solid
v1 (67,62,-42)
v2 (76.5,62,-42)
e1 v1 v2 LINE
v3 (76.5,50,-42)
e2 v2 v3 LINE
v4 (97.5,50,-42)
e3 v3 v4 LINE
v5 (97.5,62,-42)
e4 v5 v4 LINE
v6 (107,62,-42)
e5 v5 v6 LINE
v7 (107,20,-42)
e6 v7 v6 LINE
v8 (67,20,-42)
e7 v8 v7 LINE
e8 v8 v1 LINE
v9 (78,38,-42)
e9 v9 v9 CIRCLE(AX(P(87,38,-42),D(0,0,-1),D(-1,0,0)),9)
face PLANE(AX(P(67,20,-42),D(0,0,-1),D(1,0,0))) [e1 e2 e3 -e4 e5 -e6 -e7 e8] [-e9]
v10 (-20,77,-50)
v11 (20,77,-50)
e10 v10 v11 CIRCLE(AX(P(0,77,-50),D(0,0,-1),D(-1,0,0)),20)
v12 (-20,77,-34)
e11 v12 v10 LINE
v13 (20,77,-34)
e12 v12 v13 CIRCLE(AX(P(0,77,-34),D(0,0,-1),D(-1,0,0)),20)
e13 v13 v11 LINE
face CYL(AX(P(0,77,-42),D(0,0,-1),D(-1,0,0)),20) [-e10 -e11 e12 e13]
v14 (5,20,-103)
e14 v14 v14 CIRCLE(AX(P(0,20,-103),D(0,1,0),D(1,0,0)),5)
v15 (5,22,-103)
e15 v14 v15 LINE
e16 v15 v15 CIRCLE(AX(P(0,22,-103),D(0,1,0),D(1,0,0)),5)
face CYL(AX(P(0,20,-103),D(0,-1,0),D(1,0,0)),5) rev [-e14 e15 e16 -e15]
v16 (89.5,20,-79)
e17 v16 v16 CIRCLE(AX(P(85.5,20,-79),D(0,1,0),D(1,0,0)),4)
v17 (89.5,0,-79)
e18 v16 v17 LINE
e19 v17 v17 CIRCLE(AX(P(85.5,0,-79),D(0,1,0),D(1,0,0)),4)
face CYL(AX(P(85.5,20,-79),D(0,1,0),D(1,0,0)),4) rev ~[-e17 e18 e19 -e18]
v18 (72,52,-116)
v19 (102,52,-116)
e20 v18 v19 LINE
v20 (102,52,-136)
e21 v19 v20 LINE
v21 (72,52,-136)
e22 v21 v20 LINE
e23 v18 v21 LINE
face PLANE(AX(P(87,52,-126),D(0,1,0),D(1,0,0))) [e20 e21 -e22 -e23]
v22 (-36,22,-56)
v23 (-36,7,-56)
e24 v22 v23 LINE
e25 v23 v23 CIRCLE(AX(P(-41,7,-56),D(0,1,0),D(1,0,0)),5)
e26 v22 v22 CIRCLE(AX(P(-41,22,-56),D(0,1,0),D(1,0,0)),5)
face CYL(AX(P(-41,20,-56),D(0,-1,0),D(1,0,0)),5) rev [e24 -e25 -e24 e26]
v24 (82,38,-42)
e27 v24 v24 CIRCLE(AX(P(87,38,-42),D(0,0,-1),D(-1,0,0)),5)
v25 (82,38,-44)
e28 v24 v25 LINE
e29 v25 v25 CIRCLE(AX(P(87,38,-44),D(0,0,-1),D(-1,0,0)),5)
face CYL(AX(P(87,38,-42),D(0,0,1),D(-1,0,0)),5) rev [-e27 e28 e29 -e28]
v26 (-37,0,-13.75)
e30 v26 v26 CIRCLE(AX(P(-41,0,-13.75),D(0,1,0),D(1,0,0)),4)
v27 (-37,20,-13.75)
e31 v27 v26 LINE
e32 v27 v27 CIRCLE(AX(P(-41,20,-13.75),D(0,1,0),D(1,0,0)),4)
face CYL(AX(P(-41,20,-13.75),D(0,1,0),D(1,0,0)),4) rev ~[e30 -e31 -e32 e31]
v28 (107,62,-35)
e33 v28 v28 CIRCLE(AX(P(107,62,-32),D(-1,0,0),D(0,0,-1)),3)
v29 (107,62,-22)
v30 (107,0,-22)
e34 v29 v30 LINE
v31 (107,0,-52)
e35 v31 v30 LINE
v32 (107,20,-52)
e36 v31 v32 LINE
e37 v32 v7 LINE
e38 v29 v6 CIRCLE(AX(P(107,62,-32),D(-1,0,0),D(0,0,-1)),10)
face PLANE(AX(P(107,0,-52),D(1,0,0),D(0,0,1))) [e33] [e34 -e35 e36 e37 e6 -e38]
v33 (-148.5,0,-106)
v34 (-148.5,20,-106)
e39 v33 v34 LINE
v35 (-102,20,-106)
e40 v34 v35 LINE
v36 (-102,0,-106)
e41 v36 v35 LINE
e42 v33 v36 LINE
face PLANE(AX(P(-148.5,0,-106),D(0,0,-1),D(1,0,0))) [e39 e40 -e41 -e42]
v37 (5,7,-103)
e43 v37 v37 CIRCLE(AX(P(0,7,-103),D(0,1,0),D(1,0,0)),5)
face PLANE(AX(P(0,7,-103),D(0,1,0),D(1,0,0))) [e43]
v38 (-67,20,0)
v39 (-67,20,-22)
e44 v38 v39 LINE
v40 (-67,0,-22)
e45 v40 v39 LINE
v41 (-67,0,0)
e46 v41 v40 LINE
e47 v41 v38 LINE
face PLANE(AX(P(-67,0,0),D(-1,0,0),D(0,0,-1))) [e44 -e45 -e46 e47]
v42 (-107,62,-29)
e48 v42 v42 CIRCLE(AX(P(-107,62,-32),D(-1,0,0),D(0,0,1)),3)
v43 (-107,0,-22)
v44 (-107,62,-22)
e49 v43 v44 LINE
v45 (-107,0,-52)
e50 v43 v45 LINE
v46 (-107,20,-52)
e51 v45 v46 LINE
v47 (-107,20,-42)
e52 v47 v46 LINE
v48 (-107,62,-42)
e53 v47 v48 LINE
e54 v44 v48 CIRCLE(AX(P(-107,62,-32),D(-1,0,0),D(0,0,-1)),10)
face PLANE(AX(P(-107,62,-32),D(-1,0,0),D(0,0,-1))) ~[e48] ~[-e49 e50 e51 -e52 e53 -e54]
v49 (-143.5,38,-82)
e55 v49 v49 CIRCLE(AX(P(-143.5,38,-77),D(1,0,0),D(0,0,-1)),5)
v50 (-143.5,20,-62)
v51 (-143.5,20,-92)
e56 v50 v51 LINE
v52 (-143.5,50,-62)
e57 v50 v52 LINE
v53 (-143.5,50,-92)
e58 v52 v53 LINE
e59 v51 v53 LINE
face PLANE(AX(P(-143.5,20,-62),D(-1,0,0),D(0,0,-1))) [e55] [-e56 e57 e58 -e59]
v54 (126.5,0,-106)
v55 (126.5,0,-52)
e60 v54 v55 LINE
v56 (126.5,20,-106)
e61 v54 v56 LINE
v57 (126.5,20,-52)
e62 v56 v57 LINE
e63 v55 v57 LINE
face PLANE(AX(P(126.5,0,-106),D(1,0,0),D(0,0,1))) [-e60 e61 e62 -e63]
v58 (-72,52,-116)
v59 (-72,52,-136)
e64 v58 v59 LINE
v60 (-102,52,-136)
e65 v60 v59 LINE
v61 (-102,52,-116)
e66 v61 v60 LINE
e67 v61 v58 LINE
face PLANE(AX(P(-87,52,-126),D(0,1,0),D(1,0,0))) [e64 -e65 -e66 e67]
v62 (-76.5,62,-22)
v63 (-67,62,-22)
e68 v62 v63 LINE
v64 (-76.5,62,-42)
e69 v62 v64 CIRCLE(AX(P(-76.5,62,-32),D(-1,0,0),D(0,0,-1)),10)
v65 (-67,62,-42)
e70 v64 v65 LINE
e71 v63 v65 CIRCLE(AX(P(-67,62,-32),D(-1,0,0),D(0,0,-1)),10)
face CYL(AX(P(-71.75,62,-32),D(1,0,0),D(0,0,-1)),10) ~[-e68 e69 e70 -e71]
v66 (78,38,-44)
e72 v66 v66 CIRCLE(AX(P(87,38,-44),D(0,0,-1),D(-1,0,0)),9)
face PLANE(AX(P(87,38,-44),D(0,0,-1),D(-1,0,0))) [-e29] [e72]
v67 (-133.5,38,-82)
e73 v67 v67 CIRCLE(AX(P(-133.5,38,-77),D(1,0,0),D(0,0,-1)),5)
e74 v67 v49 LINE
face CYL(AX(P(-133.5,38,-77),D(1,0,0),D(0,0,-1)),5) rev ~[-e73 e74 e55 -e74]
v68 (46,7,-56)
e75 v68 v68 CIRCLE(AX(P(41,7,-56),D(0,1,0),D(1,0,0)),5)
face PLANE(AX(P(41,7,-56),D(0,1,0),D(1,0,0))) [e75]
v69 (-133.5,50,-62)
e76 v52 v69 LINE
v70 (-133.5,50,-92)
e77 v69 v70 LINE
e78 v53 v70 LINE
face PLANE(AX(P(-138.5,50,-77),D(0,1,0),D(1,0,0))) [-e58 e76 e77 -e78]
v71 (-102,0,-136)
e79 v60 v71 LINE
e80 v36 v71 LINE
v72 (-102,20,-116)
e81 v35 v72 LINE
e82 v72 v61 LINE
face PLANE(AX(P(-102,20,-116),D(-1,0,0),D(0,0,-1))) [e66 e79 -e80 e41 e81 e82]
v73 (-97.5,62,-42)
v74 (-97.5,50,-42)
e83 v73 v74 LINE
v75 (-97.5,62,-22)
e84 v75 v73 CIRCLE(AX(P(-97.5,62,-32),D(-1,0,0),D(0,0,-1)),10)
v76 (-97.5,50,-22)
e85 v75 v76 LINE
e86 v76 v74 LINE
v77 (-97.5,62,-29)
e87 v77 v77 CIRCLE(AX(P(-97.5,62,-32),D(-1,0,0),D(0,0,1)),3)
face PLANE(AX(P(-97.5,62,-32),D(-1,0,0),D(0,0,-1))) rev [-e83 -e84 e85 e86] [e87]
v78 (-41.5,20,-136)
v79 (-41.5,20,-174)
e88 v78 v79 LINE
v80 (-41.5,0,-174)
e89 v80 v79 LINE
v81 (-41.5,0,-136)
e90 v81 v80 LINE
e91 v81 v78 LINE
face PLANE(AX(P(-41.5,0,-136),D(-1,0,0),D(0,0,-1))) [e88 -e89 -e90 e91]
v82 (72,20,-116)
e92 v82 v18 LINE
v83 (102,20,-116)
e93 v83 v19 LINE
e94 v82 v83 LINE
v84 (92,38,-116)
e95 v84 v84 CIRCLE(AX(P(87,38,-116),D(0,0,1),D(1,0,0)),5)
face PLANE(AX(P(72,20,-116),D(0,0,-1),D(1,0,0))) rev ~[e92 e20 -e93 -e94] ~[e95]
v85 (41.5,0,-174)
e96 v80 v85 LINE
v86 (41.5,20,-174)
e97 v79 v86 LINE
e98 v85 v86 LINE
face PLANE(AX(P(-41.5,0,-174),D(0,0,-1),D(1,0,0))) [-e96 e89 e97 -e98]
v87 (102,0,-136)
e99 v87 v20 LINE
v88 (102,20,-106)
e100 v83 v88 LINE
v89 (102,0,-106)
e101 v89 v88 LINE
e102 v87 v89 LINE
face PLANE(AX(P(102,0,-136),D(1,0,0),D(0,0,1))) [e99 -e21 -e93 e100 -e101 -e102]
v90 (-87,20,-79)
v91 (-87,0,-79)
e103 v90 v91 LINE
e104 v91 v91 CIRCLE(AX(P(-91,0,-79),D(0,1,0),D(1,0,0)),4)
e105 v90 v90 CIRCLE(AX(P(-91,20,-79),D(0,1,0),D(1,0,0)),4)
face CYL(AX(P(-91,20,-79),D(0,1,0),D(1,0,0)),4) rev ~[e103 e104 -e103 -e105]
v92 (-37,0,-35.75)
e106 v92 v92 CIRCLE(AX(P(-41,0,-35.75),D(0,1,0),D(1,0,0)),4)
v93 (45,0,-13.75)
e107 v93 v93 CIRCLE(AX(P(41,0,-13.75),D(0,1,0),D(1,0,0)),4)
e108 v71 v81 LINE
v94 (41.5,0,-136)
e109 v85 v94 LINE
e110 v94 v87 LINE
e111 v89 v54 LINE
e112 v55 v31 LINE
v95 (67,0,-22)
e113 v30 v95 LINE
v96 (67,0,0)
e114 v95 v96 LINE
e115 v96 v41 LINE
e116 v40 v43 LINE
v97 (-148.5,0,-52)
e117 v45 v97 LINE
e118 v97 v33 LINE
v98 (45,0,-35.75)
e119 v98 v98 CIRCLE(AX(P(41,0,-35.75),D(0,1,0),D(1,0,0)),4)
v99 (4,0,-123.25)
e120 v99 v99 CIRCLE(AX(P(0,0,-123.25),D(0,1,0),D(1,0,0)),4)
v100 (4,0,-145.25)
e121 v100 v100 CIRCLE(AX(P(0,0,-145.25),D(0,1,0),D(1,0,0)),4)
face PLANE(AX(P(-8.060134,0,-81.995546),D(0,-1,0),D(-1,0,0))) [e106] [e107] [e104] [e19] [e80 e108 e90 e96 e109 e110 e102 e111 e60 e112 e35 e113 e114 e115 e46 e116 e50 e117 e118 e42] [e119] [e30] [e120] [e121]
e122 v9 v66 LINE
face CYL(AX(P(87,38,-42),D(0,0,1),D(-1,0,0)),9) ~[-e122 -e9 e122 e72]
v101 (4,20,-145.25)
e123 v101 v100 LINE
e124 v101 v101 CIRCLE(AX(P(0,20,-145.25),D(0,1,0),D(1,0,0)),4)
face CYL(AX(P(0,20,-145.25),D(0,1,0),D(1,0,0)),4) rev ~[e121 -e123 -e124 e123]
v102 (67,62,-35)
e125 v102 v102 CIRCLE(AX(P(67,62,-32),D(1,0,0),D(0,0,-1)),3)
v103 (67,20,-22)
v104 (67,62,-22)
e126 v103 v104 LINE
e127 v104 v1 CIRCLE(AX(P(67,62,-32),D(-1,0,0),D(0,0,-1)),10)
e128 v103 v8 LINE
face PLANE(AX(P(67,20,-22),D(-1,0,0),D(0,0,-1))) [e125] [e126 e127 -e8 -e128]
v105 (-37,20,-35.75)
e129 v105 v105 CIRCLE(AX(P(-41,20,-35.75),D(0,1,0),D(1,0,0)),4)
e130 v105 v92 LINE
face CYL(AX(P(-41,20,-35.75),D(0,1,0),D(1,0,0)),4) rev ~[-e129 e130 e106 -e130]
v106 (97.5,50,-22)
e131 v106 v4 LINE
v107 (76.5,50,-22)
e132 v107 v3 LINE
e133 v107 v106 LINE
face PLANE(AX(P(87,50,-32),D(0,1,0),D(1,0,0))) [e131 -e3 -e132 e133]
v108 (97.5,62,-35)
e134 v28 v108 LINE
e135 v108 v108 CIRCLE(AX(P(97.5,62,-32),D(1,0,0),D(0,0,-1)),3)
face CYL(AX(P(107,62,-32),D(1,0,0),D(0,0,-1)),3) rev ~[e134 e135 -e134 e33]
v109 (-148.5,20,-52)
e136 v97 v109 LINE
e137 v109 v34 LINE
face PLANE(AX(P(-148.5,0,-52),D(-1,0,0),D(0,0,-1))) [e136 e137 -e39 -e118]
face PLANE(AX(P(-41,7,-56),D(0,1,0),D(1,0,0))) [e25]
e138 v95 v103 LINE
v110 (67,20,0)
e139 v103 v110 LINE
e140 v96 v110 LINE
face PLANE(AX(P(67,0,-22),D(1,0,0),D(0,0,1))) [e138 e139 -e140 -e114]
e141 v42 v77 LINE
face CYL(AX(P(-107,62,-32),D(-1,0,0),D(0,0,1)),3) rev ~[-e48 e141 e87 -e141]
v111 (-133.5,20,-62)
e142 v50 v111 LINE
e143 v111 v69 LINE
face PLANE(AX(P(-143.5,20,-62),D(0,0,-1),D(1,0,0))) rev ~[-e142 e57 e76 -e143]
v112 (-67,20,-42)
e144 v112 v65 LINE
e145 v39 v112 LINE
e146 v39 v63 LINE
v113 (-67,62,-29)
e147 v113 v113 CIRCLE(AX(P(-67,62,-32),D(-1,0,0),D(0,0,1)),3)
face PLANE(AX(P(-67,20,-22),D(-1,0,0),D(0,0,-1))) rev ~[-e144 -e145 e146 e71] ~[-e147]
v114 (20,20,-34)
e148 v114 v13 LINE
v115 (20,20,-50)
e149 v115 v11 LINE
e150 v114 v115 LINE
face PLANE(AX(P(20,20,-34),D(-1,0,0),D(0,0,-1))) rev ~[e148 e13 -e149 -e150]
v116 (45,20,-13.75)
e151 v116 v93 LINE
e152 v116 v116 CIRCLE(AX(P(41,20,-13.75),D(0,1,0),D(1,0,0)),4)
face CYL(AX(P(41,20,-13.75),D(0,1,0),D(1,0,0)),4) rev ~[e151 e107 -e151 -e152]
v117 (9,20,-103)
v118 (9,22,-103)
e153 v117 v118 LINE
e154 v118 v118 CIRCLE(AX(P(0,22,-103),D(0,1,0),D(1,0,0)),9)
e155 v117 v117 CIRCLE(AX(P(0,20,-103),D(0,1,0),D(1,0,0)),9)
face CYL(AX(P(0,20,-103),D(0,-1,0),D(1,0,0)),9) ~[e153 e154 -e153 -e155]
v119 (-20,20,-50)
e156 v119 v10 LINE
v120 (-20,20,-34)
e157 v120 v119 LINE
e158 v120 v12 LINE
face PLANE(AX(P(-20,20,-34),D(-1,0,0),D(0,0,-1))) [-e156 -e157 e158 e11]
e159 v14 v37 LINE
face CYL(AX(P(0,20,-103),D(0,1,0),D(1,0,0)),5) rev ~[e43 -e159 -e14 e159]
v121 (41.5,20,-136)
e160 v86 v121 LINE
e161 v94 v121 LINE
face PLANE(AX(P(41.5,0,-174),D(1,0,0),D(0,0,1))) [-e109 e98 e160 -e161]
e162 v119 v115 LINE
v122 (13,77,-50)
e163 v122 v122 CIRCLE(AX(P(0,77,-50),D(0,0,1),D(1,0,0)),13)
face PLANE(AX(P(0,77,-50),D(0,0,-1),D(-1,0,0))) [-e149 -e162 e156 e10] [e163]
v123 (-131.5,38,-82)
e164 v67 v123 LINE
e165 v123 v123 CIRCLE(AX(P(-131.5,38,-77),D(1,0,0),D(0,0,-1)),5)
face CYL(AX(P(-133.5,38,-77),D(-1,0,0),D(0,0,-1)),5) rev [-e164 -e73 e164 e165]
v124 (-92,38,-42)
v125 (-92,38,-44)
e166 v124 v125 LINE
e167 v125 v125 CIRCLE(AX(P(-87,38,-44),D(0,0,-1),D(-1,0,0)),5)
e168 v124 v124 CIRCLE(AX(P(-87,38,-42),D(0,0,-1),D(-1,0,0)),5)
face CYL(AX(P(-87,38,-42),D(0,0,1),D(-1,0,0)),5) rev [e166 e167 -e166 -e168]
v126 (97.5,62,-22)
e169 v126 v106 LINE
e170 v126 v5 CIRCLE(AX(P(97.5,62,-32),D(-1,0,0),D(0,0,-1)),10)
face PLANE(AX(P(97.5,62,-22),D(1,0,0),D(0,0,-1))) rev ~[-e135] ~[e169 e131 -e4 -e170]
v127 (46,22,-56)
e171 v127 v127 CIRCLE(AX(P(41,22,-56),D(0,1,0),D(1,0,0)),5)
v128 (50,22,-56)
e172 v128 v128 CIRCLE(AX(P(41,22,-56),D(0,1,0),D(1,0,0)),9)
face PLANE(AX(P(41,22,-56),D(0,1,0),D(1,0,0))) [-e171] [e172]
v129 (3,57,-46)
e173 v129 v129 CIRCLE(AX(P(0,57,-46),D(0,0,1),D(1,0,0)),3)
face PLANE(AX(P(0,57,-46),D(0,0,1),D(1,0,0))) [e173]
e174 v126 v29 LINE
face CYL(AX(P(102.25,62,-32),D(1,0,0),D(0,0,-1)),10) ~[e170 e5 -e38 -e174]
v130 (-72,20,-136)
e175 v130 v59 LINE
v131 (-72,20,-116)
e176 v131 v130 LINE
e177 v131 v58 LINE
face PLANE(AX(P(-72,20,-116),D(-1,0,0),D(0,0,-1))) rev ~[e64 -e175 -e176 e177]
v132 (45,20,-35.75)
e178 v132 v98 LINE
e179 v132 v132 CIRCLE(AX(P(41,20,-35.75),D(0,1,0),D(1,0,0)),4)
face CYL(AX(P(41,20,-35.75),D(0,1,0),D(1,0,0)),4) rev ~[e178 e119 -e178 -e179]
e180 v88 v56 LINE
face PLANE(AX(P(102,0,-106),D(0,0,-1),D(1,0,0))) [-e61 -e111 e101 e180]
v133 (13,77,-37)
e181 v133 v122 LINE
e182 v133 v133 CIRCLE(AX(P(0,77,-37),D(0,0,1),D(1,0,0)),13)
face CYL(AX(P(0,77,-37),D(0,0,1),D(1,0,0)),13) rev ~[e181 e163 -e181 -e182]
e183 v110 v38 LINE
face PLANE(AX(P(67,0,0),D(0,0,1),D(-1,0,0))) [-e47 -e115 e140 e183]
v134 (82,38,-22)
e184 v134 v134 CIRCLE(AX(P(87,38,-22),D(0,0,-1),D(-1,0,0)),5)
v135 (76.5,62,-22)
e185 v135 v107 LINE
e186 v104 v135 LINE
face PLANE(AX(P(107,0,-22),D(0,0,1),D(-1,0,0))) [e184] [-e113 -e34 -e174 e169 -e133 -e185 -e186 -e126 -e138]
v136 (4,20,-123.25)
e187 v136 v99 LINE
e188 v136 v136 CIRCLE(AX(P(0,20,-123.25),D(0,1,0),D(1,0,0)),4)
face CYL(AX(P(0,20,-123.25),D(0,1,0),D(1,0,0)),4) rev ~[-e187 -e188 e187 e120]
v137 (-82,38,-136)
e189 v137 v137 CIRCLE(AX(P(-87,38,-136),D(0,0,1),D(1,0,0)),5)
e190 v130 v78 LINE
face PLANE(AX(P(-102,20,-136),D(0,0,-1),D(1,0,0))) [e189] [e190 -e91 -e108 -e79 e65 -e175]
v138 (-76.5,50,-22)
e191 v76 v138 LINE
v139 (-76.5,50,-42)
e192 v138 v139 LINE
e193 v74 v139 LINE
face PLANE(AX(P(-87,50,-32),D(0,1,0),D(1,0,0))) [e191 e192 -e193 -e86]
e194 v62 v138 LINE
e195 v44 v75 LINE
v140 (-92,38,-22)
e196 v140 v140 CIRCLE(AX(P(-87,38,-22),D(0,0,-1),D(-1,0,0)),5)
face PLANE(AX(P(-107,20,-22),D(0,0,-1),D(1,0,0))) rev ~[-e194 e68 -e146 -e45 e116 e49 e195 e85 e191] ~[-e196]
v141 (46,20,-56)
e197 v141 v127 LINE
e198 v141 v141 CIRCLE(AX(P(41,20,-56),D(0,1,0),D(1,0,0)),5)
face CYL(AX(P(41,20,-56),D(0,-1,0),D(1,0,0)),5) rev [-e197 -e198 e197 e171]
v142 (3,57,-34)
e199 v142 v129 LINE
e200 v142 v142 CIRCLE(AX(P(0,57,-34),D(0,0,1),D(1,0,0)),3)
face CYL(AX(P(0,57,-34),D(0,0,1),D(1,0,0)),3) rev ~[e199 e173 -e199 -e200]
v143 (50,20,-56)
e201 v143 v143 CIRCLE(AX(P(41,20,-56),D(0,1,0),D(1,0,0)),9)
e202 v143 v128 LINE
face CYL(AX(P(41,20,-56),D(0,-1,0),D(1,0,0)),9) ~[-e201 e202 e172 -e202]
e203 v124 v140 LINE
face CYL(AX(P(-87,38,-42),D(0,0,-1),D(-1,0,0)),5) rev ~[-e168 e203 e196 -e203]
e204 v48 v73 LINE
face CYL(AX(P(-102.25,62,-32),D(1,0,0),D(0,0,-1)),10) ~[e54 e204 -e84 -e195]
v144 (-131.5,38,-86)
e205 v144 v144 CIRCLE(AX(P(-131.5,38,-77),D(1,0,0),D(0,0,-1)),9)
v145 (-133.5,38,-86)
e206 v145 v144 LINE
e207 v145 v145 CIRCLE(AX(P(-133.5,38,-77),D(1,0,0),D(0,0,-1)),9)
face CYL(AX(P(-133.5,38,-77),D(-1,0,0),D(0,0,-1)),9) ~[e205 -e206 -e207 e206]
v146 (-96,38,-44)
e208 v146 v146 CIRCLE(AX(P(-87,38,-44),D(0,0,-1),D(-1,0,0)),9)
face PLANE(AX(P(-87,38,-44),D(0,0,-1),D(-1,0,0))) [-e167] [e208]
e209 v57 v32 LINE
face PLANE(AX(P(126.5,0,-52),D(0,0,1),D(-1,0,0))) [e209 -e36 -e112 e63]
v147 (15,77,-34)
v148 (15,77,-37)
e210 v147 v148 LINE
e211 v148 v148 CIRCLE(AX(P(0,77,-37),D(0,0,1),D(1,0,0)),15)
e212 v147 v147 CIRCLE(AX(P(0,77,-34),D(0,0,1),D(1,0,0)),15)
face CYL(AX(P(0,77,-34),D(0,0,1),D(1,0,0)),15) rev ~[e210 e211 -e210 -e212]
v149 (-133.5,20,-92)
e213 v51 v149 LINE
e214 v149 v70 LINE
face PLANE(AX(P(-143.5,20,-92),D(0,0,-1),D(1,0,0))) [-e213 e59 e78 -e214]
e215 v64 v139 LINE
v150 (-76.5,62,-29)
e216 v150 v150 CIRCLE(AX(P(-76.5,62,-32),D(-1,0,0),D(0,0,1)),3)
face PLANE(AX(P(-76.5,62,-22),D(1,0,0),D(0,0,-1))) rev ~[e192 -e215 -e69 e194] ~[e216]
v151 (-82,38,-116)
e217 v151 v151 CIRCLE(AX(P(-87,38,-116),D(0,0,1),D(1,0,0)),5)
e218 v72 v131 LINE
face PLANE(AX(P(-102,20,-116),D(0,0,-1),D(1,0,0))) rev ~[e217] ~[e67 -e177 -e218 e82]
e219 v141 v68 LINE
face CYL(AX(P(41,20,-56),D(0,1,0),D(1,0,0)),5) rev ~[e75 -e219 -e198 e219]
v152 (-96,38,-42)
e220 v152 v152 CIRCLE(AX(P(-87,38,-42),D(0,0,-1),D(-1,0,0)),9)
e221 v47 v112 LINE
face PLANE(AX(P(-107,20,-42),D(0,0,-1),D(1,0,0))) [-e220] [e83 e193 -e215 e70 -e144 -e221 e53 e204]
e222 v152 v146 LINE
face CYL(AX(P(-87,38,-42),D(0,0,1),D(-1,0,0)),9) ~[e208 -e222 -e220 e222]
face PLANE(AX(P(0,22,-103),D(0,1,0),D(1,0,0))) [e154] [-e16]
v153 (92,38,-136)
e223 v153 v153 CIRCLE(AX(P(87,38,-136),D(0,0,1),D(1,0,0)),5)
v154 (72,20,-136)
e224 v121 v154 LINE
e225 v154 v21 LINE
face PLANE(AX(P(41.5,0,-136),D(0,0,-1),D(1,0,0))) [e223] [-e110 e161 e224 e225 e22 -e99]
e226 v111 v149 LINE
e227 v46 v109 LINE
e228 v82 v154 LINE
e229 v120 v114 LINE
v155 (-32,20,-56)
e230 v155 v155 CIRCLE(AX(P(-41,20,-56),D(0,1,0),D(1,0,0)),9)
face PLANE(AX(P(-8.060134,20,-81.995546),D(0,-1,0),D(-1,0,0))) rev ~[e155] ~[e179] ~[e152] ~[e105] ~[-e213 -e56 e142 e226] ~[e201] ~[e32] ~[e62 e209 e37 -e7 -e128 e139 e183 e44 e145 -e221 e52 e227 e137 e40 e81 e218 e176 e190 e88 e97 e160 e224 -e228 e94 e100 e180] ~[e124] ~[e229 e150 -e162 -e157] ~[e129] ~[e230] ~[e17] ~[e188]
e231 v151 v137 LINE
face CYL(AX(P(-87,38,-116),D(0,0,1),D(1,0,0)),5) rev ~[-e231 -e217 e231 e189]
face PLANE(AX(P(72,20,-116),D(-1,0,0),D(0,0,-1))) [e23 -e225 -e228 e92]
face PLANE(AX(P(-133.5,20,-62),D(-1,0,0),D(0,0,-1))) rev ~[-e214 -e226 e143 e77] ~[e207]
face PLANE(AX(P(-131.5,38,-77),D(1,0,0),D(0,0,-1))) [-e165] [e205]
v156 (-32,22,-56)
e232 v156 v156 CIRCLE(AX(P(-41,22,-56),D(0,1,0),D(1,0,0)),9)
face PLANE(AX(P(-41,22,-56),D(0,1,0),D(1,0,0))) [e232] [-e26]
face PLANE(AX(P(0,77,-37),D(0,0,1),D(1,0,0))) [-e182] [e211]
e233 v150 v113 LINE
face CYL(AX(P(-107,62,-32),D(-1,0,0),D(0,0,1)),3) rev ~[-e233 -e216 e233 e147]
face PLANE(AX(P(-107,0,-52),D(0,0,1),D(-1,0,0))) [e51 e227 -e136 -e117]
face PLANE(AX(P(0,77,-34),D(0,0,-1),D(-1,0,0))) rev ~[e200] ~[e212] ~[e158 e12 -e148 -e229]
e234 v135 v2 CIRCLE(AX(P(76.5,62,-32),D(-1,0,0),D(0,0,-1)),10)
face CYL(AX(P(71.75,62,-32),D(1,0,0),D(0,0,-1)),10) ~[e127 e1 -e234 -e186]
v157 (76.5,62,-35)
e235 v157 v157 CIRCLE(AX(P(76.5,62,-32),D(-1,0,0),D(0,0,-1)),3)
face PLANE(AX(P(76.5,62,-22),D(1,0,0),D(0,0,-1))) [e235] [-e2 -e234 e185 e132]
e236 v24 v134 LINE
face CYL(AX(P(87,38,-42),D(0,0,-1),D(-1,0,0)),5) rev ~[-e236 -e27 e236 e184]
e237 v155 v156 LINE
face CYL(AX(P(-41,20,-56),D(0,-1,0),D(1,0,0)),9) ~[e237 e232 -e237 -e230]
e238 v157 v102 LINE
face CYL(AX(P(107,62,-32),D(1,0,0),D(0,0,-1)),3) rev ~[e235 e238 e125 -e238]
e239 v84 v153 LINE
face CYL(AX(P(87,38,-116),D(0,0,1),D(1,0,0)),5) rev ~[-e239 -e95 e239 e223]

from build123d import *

# Parameters (mm, degrees)
EXTRUDE_1_DEPTH          = 20
SKETCH_3_W               = 10
SKETCH_3_H               = 30
EXTRUDE_2_DEPTH          = 30
SKETCH_5_W               = 40
SKETCH_5_H               = 20
EXTRUDE_3_DEPTH          = 42
SKETCH_2_R               = 5
CUT_EXTRUDE_1_DEPTH      = 13
CUT_EXTRUDE_2_REACH      = 17
SKETCH_4_R               = 5
CUT_EXTRUDE_3_REACH      = 44
SKETCH_6_R               = 5
SKETCH_7_R               = 9
SKETCH_7_R_2             = 5
EXTRUDE_4_DEPTH          = 2
SKETCH_8_R               = 9
SKETCH_8_R_2             = 5
EXTRUDE_5_DEPTH          = 2
SKETCH_9_R               = 9
SKETCH_9_R_2             = 5
EXTRUDE_6_DEPTH          = 2
SKETCH_10_R              = 4
CUT_EXTRUDE_4_DEPTH      = 21
SKETCH_11_W              = 40
SKETCH_11_H              = 16
EXTRUDE_7_DEPTH          = 57
SKETCH_12_W              = 20
SKETCH_12_H              = 16
REVOLVE_1_ANGLE          = 180
SKETCH_13_R              = 15
CUT_EXTRUDE_5_DEPTH      = 35
CUT_EXTRUDE_5_DEPTH_BACK = 3
CUT_EXTRUDE_6_REACH      = 139
SKETCH_14_R              = 13
SKETCH_15_R              = 3
CUT_EXTRUDE_7_DEPTH      = 12
SKETCH_16_W              = 9.5
SKETCH_16_H              = 10
SKETCH_17_W              = 21
SKETCH_17_H              = 20
CUT_EXTRUDE_8_DEPTH      = 12
SKETCH_18_R              = 3
CUT_EXTRUDE_9_DEPTH      = 40
SKETCH_19_R              = 3
CUT_EXTRUDE_10_DEPTH     = 40
SKETCH_20_W              = 30
SKETCH_20_H              = 20
EXTRUDE_8_DEPTH          = 32
CUT_EXTRUDE_11_REACH     = 60
SKETCH_21_R              = 5


with BuildPart() as part:
    # 草图1 → 凸台-拉伸1 (new body)
    with BuildSketch(Plane(origin=(0, 0, 0), x_dir=(1, 0, 0), z_dir=(0, 1, 0))):
        Polygon((-102, 136), (-41.5, 136), (-41.5, 174), (41.5, 174), (41.5, 136), (102, 136), (102, 106), (126.5, 106), (126.5, 52), (107, 52), (107, 22), (67, 22), (67, 0), (-67, 0), (-67, 22), (-107, 22), (-107, 52), (-148.5, 52), (-148.5, 106), (-102, 106), align=None)
    extrude(amount=EXTRUDE_1_DEPTH)

    # 草图3 → 凸台-拉伸2 (add)
    with BuildSketch(Plane(origin=(0, 20, 0), x_dir=(1, 0, 0), z_dir=(0, 1, 0))):
        with Locations((-138.5, 77)):
            Rectangle(SKETCH_3_W, SKETCH_3_H)
    extrude(amount=EXTRUDE_2_DEPTH)

    # 草图5 → 凸台-拉伸3 (add)
    with BuildSketch(Plane(origin=(0, 20, 0), x_dir=(1, 0, 0), z_dir=(0, 1, 0))):
        with Locations((-87, 32)):
            Rectangle(SKETCH_5_W, SKETCH_5_H)
        with Locations((87, 32)):
            Rectangle(SKETCH_5_W, SKETCH_5_H)
    extrude(amount=EXTRUDE_3_DEPTH)

    # 草图2 → 切除-拉伸1 (cut)
    with BuildSketch(Plane(origin=(0, 20, 0), x_dir=(1, 0, 0), z_dir=(0, 1, 0))):
        with Locations((0, 103)):
            Circle(SKETCH_2_R)
        with Locations((-41, 56)):
            Circle(SKETCH_2_R)
        with Locations((41, 56)):
            Circle(SKETCH_2_R)
    extrude(amount=-CUT_EXTRUDE_1_DEPTH, mode=Mode.SUBTRACT)

    # 草图4 → 切除-拉伸2 (cut, up to next)
    with BuildSketch(Plane(origin=(-133.5, 0, 0), x_dir=(0, 0, -1), z_dir=(1, 0, 0)), mode=Mode.PRIVATE) as cut_extrude_2_sk1:
        with Locations((77, 38)):
            Circle(SKETCH_4_R)
    cut_extrude_2_tool1 = extrude(cut_extrude_2_sk1.sketch, amount=-CUT_EXTRUDE_2_REACH, mode=Mode.PRIVATE) & part.part
    add(cut_extrude_2_tool1.solids().sort_by_distance((-133.5, 38, -77))[0], mode=Mode.SUBTRACT)

    # 草图6 → 切除-拉伸3 (cut, up to next)
    with BuildSketch(Plane(origin=(0, 0, -42), x_dir=(-1, 0, 0), z_dir=(0, 0, -1)), mode=Mode.PRIVATE) as cut_extrude_3_sk1:
        with Locations((87, 38)):
            Circle(SKETCH_6_R)
    cut_extrude_3_tool1 = extrude(cut_extrude_3_sk1.sketch, amount=-CUT_EXTRUDE_3_REACH, mode=Mode.PRIVATE) & part.part
    add(cut_extrude_3_tool1.solids().sort_by_distance((-87, 38, -42))[0], mode=Mode.SUBTRACT)
    # 草图6 → 切除-拉伸3 (cut, up to next)
    with BuildSketch(Plane(origin=(0, 0, -42), x_dir=(-1, 0, 0), z_dir=(0, 0, -1)), mode=Mode.PRIVATE) as cut_extrude_3_sk2:
        with Locations((-87, 38)):
            Circle(SKETCH_6_R)
    cut_extrude_3_tool2 = extrude(cut_extrude_3_sk2.sketch, amount=-CUT_EXTRUDE_3_REACH, mode=Mode.PRIVATE) & part.part
    add(cut_extrude_3_tool2.solids().sort_by_distance((87, 38, -42))[0], mode=Mode.SUBTRACT)

    # 草图7 → 凸台-拉伸4 (add)
    with BuildSketch(Plane(origin=(-133.5, 0, 0), x_dir=(0, 0, -1), z_dir=(1, 0, 0))):
        with Locations((77, 38)):
            Circle(SKETCH_7_R)
        with Locations((77, 38)):
            Circle(SKETCH_7_R_2, mode=Mode.SUBTRACT)
    extrude(amount=EXTRUDE_4_DEPTH)

    # 草图8 → 凸台-拉伸5 (add)
    with BuildSketch(Plane(origin=(0, 0, -42), x_dir=(-1, 0, 0), z_dir=(0, 0, -1))):
        with Locations((-87, 38)):
            Circle(SKETCH_8_R)
        with Locations((-87, 38)):
            Circle(SKETCH_8_R_2, mode=Mode.SUBTRACT)
        with Locations((87, 38)):
            Circle(SKETCH_8_R)
        with Locations((87, 38)):
            Circle(SKETCH_8_R_2, mode=Mode.SUBTRACT)
    extrude(amount=EXTRUDE_5_DEPTH)

    # 草图9 → 凸台-拉伸6 (add)
    with BuildSketch(Plane(origin=(0, 20, 0), x_dir=(1, 0, 0), z_dir=(0, 1, 0))):
        with Locations((-41, 56)):
            Circle(SKETCH_9_R)
        with Locations((-41, 56)):
            Circle(SKETCH_9_R_2, mode=Mode.SUBTRACT)
        with Locations((0, 103)):
            Circle(SKETCH_9_R)
        with Locations((0, 103)):
            Circle(SKETCH_9_R_2, mode=Mode.SUBTRACT)
        with Locations((41, 56)):
            Circle(SKETCH_9_R)
        with Locations((41, 56)):
            Circle(SKETCH_9_R_2, mode=Mode.SUBTRACT)
    extrude(amount=EXTRUDE_6_DEPTH)

    # 草图10 → 切除-拉伸4 (cut, through all)
    with BuildSketch(Plane(origin=(0, 20, 0), x_dir=(1, 0, 0), z_dir=(0, 1, 0))):
        with Locations((-41, 35.75)):
            Circle(SKETCH_10_R)
        with Locations((41, 35.75)):
            Circle(SKETCH_10_R)
        with Locations((-41, 13.75)):
            Circle(SKETCH_10_R)
        with Locations((41, 13.75)):
            Circle(SKETCH_10_R)
        with Locations((-91, 79)):
            Circle(SKETCH_10_R)
        with Locations((0, 123.25)):
            Circle(SKETCH_10_R)
        with Locations((0, 145.25)):
            Circle(SKETCH_10_R)
        with Locations((85.5, 79)):
            Circle(SKETCH_10_R)
    extrude(amount=-CUT_EXTRUDE_4_DEPTH, mode=Mode.SUBTRACT)

    # 草图11 → 凸台-拉伸7 (add)
    with BuildSketch(Plane(origin=(0, 20, 0), x_dir=(1, 0, 0), z_dir=(0, 1, 0))):
        with Locations((0, 42)):
            Rectangle(SKETCH_11_W, SKETCH_11_H)
    extrude(amount=EXTRUDE_7_DEPTH)

    # 草图12 → 旋转1 (revolve)
    with BuildSketch(Plane(origin=(0, 77, 0), x_dir=(1, 0, 0), z_dir=(0, 1, 0))):
        with Locations((-10, 42)):
            Rectangle(SKETCH_12_W, SKETCH_12_H)
    revolve(axis=Axis((0, 77, -50), (0, 0, -1)), revolution_arc=REVOLVE_1_ANGLE)

    # 草图13 → 切除-拉伸5 (cut, two sides)
    with BuildSketch(Plane.XY.offset(-34)) as cut_extrude_5_sk:
        with Locations((0, 77)):
            Circle(SKETCH_13_R)
    extrude(amount=CUT_EXTRUDE_5_DEPTH, mode=Mode.SUBTRACT)
    extrude(cut_extrude_5_sk.sketch, amount=-CUT_EXTRUDE_5_DEPTH_BACK, mode=Mode.SUBTRACT)

    # 草图14 → 切除-拉伸6 (cut, up to next)
    with BuildSketch(Plane.XY.offset(-37), mode=Mode.PRIVATE) as cut_extrude_6_sk1:
        with Locations((0, 77)):
            Circle(SKETCH_14_R)
    cut_extrude_6_tool1 = extrude(cut_extrude_6_sk1.sketch, amount=-CUT_EXTRUDE_6_REACH, mode=Mode.PRIVATE) & part.part
    add(cut_extrude_6_tool1.solids().sort_by_distance((0, 77, -37))[0], mode=Mode.SUBTRACT)

    # 草图15 → 切除-拉伸7 (cut)
    with BuildSketch(Plane.XY.offset(-34)):
        with Locations((0, 57)):
            Circle(SKETCH_15_R)
    extrude(amount=-CUT_EXTRUDE_7_DEPTH, mode=Mode.SUBTRACT)

    # 草图16 → 旋转2 (revolve)
    with BuildSketch(Plane(origin=(0, 62, 0), x_dir=(1, 0, 0), z_dir=(0, 1, 0))):
        with Locations((-102.25, 37)):
            Rectangle(SKETCH_16_W, SKETCH_16_H)
        with Locations((-71.75, 37)):
            Rectangle(SKETCH_16_W, SKETCH_16_H)
        with Locations((102.25, 37)):
            Rectangle(SKETCH_16_W, SKETCH_16_H)
        with Locations((71.75, 37)):
            Rectangle(SKETCH_16_W, SKETCH_16_H)
    revolve(axis=Axis((107, 62, -32), (-1, 0, 0)))

    # 草图17 → 切除-拉伸8 (cut)
    with BuildSketch(Plane(origin=(0, 62, 0), x_dir=(1, 0, 0), z_dir=(0, 1, 0))):
        with Locations((-87, 32)):
            Rectangle(SKETCH_17_W, SKETCH_17_H)
        with Locations((87, 32)):
            Rectangle(SKETCH_17_W, SKETCH_17_H)
    extrude(amount=-CUT_EXTRUDE_8_DEPTH, mode=Mode.SUBTRACT)

    # 草图18 → 切除-拉伸9 (cut)
    with BuildSketch(Plane.ZY.offset(107)):
        with Locations((-32, 62)):
            Circle(SKETCH_18_R)
    extrude(amount=-CUT_EXTRUDE_9_DEPTH, mode=Mode.SUBTRACT)

    # 草图19 → 切除-拉伸10 (cut)
    with BuildSketch(Plane(origin=(107, 0, 0), x_dir=(0, 0, -1), z_dir=(1, 0, 0))):
        with Locations((32, 62)):
            Circle(SKETCH_19_R)
    extrude(amount=-CUT_EXTRUDE_10_DEPTH, mode=Mode.SUBTRACT)

    # 草图20 → 凸台-拉伸8 (add)
    with BuildSketch(Plane(origin=(0, 20, 0), x_dir=(1, 0, 0), z_dir=(0, 1, 0))):
        with Locations((-87, 126)):
            Rectangle(SKETCH_20_W, SKETCH_20_H)
        with Locations((87, 126)):
            Rectangle(SKETCH_20_W, SKETCH_20_H)
    extrude(amount=EXTRUDE_8_DEPTH)

    # 草图21 → 切除-拉伸11 (cut, up to next)
    with BuildSketch(Plane.XY.offset(-116), mode=Mode.PRIVATE) as cut_extrude_11_sk1:
        with Locations((87, 38)):
            Circle(SKETCH_21_R)
    cut_extrude_11_tool1 = extrude(cut_extrude_11_sk1.sketch, amount=-CUT_EXTRUDE_11_REACH, mode=Mode.PRIVATE) & part.part
    add(cut_extrude_11_tool1.solids().sort_by_distance((87, 38, -116))[0], mode=Mode.SUBTRACT)
    # 草图21 → 切除-拉伸11 (cut, up to next)
    with BuildSketch(Plane.XY.offset(-116), mode=Mode.PRIVATE) as cut_extrude_11_sk2:
        with Locations((-87, 38)):
            Circle(SKETCH_21_R)
    cut_extrude_11_tool2 = extrude(cut_extrude_11_sk2.sketch, amount=-CUT_EXTRUDE_11_REACH, mode=Mode.PRIVATE) & part.part
    add(cut_extrude_11_tool2.solids().sort_by_distance((-87, 38, -116))[0], mode=Mode.SUBTRACT)


solid = part.part
